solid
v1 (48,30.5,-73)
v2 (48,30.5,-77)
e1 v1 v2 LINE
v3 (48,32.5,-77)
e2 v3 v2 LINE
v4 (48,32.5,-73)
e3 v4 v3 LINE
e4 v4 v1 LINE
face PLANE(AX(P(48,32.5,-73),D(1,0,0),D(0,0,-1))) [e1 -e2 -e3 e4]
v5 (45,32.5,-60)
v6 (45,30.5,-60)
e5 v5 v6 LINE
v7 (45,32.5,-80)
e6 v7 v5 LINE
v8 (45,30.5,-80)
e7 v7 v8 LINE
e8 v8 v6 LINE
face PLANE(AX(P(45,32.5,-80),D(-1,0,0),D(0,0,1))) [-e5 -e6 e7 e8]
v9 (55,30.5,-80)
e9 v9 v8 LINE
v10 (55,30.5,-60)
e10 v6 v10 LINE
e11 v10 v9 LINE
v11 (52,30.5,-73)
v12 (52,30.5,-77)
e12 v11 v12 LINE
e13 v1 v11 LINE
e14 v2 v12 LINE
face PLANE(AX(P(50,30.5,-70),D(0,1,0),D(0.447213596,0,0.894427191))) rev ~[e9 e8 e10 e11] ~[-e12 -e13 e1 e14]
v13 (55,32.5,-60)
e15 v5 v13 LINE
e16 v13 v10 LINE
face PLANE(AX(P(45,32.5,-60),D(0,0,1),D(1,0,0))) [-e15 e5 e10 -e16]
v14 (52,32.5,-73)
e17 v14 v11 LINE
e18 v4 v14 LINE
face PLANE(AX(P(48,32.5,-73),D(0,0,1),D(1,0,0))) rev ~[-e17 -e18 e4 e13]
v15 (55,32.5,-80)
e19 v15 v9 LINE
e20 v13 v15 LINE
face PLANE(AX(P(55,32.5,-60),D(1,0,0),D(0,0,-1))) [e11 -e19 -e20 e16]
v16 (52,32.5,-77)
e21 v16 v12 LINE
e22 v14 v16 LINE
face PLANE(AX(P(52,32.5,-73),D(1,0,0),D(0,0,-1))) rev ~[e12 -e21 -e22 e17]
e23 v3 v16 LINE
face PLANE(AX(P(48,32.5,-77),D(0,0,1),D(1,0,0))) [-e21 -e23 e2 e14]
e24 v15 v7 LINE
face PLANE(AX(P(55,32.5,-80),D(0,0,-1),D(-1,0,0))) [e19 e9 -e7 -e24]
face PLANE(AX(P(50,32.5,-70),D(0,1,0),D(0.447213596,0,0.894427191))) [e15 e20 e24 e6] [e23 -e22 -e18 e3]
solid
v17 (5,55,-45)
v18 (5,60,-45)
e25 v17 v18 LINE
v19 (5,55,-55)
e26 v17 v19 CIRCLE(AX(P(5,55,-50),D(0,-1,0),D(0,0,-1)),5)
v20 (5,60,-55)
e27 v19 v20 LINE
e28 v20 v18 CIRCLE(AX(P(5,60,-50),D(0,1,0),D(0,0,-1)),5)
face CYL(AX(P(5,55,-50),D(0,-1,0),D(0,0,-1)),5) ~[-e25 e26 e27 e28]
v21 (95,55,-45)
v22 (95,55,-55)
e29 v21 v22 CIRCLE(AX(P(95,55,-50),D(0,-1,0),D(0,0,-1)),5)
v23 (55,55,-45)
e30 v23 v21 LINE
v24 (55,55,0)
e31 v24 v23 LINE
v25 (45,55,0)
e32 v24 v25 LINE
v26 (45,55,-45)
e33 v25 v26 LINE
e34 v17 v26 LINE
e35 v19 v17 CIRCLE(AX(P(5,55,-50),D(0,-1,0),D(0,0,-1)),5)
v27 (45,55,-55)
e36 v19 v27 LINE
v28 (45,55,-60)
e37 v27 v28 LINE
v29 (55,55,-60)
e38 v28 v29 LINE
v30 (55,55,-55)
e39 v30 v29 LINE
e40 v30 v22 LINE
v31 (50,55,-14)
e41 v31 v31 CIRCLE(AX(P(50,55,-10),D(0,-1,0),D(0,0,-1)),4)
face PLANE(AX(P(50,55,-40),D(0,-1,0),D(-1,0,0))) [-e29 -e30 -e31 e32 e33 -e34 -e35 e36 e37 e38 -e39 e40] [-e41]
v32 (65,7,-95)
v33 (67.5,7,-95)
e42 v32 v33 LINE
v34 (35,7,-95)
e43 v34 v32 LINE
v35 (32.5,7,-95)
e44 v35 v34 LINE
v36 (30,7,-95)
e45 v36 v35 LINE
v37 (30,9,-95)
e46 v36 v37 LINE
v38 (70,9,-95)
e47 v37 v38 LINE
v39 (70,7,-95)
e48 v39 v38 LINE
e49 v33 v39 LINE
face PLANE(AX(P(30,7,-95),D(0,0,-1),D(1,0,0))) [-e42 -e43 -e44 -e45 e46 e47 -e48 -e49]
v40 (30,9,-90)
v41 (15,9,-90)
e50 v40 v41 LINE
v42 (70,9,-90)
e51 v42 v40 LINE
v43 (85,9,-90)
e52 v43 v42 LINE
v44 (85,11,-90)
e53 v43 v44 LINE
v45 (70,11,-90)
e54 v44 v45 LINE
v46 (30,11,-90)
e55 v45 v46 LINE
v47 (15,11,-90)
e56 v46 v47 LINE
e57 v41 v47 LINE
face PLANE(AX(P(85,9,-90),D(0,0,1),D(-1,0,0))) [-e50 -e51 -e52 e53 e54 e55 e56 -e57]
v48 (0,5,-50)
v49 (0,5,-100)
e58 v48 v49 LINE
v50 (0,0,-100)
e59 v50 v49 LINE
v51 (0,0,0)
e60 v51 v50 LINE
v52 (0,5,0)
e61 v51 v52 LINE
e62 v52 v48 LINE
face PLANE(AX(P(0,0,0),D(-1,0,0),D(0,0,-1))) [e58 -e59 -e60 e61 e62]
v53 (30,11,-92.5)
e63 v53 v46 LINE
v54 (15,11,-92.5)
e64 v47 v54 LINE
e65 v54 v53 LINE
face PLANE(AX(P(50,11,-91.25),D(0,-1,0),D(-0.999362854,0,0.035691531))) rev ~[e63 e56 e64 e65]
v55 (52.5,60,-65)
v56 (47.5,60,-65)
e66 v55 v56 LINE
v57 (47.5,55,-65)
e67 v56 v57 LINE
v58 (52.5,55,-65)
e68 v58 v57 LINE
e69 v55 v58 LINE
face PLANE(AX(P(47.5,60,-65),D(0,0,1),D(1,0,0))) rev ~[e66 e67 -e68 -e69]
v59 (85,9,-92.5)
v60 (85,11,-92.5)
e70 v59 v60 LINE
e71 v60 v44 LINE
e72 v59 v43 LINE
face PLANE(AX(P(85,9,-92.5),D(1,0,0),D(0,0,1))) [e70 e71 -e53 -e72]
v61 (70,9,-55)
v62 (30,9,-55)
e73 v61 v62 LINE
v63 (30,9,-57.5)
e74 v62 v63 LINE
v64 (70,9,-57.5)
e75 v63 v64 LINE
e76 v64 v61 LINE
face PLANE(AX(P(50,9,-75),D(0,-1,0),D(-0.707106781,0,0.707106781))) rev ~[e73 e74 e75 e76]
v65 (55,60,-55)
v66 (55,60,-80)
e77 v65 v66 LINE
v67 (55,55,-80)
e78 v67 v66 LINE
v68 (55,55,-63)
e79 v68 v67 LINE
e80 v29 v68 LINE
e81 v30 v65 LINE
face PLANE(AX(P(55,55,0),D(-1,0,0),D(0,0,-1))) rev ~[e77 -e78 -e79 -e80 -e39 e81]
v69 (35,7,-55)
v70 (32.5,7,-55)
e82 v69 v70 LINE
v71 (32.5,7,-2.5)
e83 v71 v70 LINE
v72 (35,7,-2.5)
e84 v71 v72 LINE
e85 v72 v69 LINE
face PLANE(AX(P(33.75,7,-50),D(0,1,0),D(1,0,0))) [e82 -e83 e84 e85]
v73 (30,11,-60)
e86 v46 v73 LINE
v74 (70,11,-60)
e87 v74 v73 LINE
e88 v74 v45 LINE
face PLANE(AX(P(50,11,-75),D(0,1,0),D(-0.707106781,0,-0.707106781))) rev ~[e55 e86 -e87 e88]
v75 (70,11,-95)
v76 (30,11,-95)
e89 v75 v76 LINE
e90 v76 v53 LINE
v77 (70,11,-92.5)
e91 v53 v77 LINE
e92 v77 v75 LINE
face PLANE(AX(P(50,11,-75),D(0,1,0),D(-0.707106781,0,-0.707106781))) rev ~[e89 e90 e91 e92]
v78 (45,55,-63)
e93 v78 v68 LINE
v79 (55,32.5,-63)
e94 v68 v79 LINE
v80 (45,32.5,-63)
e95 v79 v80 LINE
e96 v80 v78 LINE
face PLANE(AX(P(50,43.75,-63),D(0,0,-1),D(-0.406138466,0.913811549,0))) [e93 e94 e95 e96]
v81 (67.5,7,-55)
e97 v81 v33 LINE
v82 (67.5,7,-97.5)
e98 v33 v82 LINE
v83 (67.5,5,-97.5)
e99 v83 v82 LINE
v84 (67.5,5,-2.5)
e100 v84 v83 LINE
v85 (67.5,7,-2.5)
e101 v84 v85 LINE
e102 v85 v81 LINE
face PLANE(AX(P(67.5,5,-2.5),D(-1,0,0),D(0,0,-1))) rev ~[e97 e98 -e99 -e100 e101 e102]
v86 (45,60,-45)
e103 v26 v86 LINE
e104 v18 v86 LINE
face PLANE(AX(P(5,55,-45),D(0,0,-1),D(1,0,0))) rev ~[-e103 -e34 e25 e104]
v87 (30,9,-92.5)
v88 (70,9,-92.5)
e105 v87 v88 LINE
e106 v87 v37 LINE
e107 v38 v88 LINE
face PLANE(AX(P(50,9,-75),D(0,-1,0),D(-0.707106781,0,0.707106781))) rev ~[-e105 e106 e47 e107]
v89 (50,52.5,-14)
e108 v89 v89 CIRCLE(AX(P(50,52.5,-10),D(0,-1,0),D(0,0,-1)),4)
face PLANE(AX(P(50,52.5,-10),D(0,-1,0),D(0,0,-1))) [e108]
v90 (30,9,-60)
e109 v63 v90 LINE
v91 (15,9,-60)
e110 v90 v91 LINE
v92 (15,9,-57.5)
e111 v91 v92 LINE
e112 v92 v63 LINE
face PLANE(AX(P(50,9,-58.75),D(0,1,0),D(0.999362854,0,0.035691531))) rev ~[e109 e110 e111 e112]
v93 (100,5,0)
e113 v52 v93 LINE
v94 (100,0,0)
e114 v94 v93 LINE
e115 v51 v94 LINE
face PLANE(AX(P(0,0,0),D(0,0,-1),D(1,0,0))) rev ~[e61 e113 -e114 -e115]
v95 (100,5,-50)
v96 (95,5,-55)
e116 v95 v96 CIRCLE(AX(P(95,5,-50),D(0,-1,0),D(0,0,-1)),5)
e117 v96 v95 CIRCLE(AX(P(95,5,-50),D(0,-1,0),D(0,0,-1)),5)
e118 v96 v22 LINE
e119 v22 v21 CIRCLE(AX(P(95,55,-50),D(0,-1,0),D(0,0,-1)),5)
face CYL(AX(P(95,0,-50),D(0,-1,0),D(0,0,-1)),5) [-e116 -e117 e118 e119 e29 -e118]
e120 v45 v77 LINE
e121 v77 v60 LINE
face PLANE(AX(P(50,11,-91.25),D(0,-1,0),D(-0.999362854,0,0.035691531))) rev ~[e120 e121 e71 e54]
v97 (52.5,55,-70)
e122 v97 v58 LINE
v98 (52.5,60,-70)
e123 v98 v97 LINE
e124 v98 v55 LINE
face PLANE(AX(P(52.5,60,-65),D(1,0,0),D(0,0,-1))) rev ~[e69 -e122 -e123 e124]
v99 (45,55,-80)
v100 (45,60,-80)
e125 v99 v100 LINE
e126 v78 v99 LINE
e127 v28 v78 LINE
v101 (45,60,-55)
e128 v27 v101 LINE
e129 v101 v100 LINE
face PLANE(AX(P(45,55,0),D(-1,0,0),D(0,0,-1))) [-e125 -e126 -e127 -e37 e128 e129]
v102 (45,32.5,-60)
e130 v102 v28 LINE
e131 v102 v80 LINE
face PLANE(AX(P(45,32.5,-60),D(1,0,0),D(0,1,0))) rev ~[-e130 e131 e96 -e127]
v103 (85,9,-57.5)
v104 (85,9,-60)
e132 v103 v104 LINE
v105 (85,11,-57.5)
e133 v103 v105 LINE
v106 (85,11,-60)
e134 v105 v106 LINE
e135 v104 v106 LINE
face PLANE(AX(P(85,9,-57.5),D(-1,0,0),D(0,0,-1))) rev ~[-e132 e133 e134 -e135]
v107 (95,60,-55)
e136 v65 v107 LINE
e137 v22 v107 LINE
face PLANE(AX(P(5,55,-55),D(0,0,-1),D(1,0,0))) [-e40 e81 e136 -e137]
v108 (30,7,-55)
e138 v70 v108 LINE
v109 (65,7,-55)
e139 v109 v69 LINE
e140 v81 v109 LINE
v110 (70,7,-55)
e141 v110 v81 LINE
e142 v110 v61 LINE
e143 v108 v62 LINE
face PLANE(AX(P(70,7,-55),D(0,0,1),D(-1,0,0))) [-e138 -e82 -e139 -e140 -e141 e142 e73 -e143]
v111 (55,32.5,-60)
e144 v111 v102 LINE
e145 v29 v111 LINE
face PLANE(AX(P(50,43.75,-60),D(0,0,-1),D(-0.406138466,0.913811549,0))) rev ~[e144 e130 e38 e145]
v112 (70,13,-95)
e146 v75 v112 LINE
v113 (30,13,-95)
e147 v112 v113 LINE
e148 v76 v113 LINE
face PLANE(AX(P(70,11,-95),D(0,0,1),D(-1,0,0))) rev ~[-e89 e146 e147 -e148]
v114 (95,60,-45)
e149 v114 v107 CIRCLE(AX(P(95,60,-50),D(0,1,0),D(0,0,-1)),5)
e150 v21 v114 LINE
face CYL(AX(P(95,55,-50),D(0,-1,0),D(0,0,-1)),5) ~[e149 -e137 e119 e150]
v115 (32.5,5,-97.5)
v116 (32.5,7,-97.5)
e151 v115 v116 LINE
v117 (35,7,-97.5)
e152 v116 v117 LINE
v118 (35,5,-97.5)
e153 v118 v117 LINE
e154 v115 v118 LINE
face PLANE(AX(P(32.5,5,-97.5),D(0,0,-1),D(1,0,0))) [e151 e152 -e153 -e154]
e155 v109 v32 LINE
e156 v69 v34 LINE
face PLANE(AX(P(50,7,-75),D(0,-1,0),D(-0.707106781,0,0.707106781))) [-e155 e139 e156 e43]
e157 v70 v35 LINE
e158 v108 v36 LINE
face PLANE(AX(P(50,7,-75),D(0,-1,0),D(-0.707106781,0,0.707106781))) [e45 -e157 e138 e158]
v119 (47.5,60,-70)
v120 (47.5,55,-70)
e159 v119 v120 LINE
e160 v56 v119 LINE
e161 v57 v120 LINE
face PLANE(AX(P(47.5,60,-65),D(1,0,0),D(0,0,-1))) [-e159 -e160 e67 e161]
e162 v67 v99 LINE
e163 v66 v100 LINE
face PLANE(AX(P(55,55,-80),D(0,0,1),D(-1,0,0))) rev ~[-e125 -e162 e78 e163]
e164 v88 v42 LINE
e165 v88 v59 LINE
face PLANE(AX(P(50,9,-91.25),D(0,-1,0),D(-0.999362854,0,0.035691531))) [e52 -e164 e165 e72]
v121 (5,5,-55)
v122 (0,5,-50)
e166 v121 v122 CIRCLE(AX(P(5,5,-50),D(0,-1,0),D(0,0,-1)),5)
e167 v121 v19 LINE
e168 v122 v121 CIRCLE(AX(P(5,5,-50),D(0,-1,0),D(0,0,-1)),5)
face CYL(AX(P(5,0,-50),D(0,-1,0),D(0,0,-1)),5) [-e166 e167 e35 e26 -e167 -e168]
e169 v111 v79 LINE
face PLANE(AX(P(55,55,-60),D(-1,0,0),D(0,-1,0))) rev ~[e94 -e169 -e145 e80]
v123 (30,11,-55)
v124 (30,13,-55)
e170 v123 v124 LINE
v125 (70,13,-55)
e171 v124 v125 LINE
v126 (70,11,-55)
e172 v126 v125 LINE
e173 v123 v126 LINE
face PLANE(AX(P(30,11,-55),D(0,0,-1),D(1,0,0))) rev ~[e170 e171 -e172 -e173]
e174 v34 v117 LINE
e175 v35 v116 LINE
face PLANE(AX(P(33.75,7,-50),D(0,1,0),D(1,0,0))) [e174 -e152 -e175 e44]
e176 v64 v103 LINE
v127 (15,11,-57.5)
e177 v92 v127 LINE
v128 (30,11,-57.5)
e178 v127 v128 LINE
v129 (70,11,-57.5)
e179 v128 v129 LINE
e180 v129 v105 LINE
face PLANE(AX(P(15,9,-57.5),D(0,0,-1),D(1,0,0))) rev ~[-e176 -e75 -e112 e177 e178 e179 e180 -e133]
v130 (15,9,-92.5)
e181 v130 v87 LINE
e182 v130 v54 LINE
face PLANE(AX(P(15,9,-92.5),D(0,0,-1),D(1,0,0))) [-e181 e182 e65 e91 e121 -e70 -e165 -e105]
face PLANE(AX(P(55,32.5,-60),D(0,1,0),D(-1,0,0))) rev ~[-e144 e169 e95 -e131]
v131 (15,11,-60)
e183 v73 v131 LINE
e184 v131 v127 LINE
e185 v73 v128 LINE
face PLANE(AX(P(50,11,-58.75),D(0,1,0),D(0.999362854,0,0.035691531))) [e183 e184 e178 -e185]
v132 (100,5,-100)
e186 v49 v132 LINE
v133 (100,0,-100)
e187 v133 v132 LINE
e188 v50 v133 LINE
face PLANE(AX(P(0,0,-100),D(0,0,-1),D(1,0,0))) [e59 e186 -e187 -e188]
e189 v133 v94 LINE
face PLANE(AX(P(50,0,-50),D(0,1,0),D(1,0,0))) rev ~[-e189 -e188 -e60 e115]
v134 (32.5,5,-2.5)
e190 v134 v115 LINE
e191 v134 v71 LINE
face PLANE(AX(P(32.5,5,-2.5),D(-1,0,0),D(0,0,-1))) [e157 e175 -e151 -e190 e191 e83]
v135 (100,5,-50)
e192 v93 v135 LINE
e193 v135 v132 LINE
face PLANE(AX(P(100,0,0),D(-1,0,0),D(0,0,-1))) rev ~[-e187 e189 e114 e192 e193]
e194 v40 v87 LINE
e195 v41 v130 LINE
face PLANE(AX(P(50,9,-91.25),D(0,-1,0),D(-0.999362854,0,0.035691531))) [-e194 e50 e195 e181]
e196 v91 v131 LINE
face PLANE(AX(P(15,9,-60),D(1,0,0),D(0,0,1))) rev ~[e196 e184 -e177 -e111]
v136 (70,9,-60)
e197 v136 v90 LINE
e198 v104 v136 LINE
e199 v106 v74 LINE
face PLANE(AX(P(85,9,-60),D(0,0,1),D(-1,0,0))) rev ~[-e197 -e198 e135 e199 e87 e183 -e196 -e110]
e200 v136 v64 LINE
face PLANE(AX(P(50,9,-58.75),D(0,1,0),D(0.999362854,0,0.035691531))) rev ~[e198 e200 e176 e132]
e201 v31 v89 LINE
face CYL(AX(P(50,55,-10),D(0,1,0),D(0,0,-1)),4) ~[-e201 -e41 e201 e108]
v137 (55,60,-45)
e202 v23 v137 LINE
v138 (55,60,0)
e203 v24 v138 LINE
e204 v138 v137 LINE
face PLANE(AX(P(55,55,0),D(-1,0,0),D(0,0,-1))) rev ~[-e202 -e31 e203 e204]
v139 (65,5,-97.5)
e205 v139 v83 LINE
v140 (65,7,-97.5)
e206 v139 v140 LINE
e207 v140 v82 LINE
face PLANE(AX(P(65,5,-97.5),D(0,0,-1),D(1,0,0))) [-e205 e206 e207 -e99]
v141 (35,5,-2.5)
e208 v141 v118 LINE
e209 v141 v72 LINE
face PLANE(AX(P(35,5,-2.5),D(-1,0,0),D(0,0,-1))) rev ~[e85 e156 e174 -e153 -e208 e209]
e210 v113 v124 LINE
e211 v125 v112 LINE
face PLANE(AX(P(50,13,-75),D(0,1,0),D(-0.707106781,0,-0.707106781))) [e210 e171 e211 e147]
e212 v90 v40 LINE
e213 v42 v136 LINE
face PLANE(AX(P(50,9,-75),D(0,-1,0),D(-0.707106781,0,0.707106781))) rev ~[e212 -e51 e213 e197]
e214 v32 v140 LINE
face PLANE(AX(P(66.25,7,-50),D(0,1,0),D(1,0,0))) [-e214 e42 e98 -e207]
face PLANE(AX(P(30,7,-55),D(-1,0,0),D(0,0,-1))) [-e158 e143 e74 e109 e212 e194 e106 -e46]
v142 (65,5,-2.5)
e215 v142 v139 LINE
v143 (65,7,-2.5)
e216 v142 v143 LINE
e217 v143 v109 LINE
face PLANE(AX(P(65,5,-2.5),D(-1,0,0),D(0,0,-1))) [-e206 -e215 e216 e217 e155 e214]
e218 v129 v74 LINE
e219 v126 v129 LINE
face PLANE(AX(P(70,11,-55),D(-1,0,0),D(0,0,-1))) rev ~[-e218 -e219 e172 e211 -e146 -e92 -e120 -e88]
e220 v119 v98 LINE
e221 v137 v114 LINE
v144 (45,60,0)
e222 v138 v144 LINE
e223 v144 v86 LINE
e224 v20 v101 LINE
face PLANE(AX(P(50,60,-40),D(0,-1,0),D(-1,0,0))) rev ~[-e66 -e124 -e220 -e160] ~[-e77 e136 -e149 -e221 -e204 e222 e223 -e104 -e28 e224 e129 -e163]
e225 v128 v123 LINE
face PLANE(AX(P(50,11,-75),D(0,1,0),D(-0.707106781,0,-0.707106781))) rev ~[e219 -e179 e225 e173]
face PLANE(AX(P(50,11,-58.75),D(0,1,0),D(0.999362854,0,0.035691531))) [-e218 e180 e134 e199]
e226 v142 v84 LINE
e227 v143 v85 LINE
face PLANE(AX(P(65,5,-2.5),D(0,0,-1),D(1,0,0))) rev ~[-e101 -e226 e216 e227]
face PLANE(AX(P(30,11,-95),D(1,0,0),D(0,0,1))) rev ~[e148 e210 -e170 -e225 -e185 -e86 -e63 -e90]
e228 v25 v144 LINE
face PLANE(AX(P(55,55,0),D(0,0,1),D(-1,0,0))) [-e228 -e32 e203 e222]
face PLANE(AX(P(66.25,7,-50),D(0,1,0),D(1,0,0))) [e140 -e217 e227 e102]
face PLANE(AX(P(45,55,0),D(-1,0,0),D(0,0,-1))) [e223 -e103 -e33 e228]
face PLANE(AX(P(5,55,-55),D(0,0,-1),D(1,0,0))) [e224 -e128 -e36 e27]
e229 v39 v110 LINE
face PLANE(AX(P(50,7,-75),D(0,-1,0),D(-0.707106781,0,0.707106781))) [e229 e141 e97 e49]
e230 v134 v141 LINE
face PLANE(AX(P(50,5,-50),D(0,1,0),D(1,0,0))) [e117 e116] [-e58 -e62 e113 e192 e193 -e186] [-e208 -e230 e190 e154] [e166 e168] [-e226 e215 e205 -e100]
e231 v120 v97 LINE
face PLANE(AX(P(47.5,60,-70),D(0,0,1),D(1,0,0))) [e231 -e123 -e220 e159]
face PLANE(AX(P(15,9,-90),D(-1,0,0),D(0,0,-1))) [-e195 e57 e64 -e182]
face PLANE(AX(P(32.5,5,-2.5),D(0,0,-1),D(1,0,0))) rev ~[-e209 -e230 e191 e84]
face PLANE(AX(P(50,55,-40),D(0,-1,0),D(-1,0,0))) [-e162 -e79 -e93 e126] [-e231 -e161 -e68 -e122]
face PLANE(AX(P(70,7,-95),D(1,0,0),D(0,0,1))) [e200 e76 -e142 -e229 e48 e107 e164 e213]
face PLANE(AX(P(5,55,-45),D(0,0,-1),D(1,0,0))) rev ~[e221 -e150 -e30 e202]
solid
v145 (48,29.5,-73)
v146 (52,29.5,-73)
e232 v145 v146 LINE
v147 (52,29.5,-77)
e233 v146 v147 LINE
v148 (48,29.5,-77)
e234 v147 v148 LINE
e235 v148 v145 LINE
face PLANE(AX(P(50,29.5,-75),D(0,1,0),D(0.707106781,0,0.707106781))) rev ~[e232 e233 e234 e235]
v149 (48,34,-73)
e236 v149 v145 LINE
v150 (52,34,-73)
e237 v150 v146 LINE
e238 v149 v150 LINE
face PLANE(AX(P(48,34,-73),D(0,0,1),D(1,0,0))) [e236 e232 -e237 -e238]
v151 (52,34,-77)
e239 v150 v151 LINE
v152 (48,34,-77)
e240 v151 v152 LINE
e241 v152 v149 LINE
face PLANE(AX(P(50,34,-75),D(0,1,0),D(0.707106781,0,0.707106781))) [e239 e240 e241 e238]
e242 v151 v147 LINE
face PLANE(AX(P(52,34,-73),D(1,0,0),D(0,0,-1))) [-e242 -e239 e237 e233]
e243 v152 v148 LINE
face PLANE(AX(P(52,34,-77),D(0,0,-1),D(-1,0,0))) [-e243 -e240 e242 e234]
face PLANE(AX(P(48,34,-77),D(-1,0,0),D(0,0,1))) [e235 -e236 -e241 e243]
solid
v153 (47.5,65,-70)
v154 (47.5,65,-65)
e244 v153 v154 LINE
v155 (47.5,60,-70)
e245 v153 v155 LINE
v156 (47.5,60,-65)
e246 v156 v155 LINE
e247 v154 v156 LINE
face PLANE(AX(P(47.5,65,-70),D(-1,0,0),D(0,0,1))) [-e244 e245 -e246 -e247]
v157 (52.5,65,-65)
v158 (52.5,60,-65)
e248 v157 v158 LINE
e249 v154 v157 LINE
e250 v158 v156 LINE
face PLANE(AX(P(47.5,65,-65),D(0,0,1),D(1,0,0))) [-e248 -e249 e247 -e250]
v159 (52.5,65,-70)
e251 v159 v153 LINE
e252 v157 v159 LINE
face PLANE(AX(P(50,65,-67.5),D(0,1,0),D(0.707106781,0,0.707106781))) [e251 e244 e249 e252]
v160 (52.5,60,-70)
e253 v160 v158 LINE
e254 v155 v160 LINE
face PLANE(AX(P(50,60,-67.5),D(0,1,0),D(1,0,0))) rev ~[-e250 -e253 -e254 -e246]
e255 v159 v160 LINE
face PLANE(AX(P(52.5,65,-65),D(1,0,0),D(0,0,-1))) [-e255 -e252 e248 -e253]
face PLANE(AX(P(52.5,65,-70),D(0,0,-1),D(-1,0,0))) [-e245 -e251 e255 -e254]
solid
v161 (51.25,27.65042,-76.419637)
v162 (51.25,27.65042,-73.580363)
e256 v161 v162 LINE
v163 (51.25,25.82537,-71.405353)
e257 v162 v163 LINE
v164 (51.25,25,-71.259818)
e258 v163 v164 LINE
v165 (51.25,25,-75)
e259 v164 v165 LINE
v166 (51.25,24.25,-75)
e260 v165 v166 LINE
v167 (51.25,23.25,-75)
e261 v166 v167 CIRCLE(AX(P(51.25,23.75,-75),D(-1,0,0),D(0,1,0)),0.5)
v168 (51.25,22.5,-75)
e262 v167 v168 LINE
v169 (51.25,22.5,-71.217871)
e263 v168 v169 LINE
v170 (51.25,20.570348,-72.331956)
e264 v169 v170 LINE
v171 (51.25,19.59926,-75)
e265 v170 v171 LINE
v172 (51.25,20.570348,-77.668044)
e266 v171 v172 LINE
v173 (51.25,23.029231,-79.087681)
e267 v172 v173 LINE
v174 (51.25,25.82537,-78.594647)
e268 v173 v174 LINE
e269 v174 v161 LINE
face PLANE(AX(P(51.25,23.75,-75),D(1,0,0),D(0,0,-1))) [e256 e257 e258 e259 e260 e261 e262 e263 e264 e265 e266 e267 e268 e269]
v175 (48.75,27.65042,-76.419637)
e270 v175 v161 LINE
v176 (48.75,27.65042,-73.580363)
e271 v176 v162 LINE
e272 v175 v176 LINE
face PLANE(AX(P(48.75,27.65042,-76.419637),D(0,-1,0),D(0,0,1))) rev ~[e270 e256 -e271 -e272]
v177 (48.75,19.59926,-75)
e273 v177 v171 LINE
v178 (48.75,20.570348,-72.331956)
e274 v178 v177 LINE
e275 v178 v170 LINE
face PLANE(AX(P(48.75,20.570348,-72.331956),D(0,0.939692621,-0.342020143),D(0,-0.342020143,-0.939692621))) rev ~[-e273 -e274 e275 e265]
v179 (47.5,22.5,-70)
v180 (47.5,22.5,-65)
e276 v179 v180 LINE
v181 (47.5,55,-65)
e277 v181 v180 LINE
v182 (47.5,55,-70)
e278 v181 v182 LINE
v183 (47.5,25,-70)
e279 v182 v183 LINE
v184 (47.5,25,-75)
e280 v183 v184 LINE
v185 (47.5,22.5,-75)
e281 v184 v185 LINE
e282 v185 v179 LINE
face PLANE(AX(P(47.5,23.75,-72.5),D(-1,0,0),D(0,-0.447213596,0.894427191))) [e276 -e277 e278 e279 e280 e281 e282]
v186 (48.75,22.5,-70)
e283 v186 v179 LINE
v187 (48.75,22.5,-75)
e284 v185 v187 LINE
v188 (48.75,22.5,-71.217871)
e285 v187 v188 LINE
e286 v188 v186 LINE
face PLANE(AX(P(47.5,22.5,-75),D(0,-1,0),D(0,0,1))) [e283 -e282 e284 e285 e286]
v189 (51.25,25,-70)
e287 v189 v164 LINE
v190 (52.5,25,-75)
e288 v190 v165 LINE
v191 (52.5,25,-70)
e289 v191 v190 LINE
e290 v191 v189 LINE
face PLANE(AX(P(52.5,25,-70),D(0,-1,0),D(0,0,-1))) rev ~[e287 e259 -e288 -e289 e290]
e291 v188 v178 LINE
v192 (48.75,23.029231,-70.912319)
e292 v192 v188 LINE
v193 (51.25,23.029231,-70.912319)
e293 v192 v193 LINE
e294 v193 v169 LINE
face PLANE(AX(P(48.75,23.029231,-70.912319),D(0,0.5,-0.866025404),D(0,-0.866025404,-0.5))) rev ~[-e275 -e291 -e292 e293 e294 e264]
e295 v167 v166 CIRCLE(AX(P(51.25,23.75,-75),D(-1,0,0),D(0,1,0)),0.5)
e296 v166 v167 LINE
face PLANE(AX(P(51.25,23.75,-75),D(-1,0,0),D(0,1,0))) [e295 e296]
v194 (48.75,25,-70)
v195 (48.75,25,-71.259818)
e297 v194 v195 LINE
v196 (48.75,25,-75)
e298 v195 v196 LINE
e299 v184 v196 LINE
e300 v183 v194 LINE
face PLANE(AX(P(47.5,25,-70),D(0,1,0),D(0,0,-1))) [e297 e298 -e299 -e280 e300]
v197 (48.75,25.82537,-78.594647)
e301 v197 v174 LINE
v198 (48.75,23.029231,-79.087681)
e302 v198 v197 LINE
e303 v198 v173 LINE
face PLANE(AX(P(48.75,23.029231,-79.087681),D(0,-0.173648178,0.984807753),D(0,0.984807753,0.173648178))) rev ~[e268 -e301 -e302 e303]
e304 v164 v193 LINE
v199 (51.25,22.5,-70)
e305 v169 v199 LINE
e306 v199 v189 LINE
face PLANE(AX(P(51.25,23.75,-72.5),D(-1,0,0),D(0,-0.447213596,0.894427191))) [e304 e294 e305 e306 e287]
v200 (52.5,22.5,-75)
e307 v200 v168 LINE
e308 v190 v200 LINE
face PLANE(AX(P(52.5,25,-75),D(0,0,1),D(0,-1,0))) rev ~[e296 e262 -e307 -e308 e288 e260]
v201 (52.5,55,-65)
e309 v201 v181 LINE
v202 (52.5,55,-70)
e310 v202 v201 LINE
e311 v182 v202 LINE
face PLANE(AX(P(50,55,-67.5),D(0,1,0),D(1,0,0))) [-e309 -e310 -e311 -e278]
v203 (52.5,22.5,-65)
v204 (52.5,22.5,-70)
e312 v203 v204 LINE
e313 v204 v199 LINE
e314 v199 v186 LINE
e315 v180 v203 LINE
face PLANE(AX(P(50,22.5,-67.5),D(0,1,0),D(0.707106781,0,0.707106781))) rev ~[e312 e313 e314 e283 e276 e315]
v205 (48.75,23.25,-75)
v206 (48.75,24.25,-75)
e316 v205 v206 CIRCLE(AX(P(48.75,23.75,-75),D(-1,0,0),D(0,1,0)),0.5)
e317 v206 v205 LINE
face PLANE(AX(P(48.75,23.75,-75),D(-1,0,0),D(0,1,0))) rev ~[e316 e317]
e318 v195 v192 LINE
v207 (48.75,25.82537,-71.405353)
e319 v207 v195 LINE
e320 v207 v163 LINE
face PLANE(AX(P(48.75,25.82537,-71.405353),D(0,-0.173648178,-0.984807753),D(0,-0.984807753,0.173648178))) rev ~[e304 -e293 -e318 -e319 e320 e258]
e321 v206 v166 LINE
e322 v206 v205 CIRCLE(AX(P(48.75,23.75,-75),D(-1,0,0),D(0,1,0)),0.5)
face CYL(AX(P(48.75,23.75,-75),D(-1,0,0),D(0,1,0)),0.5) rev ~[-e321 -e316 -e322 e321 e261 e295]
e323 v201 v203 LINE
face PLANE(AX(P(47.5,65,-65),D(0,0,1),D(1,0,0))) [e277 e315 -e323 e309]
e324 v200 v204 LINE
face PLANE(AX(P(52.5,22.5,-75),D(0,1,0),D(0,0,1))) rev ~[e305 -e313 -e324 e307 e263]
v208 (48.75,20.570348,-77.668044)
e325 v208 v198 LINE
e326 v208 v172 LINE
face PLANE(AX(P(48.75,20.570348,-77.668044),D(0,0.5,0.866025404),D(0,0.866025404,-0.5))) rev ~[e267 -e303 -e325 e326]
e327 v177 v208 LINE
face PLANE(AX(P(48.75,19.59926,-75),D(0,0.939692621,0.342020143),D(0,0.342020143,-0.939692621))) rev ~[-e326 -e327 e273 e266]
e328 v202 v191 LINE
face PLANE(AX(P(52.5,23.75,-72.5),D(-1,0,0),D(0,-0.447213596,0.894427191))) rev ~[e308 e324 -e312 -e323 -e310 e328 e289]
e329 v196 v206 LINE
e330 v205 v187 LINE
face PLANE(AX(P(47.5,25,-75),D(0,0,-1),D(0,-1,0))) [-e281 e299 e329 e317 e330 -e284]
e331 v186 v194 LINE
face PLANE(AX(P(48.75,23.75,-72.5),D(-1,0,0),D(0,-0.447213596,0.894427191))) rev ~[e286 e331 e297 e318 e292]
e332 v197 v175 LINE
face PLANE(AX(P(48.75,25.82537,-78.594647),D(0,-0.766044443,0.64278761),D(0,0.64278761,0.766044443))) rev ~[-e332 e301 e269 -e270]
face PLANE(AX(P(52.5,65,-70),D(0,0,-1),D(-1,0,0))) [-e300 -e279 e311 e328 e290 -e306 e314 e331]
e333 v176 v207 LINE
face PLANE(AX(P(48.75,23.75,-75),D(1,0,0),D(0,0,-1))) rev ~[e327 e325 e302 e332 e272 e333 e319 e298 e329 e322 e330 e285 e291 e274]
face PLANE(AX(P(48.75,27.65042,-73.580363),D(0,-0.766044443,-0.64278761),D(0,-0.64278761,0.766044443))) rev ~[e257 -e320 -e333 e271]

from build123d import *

# Parameters (mm, degrees)
SKETCH3_W            = 100
SKETCH3_H            = 100
BOSS_EXTRUDE1_DEPTH  = 5
SKETCH6_R            = 5
BOSS_EXTRUDE3_DEPTH  = 55
SKETCH9_R            = 5
BOSS_EXTRUDE4_DEPTH  = 55
SKETCH20_W           = 90
SKETCH20_H           = 10
BOSS_EXTRUDE6_DEPTH  = 5
SKETCH21_R           = 5
BOSS_EXTRUDE7_DEPTH  = 5
SKETCH22_R           = 5
BOSS_EXTRUDE8_DEPTH  = 5
SKETCH24_W           = 10
SKETCH24_H           = 80
BOSS_EXTRUDE9_DEPTH  = 5
SKETCH27_R           = 4
BOSS_EXTRUDE11_DEPTH = 2.5
BOSS_EXTRUDE16_DEPTH = 2
SKETCH31_W           = 2.5
SKETCH31_H           = 95
BOSS_EXTRUDE17_DEPTH = 2
SKETCH32_W           = 2.5
SKETCH32_H           = 95
BOSS_EXTRUDE18_DEPTH = 2
BOSS_EXTRUDE19_DEPTH = 2
BOSS_EXTRUDE20_DEPTH = 2
BOSS_EXTRUDE21_DEPTH = 2
BOSS_EXTRUDE23_DEPTH = 42.5
SKETCH33_W           = 5
SKETCH33_H           = 5
CUT_EXTRUDE2_DEPTH   = 5
BOSS_EXTRUDE24_DEPTH = 3
BOSS_EXTRUDE25_DEPTH = 1.25
BOSS_EXTRUDE26_DEPTH = 1.25
BOSS_EXTRUDE28_DEPTH = 2.5
SKETCH37_R           = 0.5
CUT_EXTRUDE3_DEPTH   = 2.5
BOSS_EXTRUDE31_DEPTH = 2
SKETCH38_W           = 4
SKETCH38_H           = 4
CUT_EXTRUDE4_DEPTH   = 2
BOSS_EXTRUDE32_DEPTH = 4.5


with BuildPart() as part:
    # Sketch3 → Boss-Extrude1 (new body)
    with BuildSketch(Plane(origin=(0, 0, 0), x_dir=(1, 0, 0), z_dir=(0, 1, 0))):
        with Locations((50, 50)):
            Rectangle(SKETCH3_W, SKETCH3_H)
    extrude(amount=BOSS_EXTRUDE1_DEPTH)

    # Sketch6 → Boss-Extrude3 (add)
    with BuildSketch(Plane(origin=(0, 0, 0), x_dir=(-1, 0, 0), z_dir=(0, -1, 0))):
        with Locations(Location((-5, 50, 0), (0, 0, 90))):
            Circle(SKETCH6_R)
    extrude(amount=-BOSS_EXTRUDE3_DEPTH)

    # Sketch9 → Boss-Extrude4 (add)
    with BuildSketch(Plane(origin=(0, 0, 0), x_dir=(-1, 0, 0), z_dir=(0, -1, 0))):
        with Locations(Location((-95, 50, 0), (0, 0, 90))):
            Circle(SKETCH9_R)
    extrude(amount=-BOSS_EXTRUDE4_DEPTH)

    # Sketch20 → Boss-Extrude6 (add)
    with BuildSketch(Plane(origin=(0, 55, 0), x_dir=(1, 0, 0), z_dir=(0, 1, 0))):
        with Locations((50, 50)):
            Rectangle(SKETCH20_W, SKETCH20_H)
    extrude(amount=BOSS_EXTRUDE6_DEPTH)

    # Sketch21 → Boss-Extrude7 (add)
    with BuildSketch(Plane(origin=(0, 55, 0), x_dir=(1, 0, 0), z_dir=(0, 1, 0))):
        with Locations(Location((5, 50, 0), (0, 0, 90))):
            Circle(SKETCH21_R)
    extrude(amount=BOSS_EXTRUDE7_DEPTH)

    # Sketch22 → Boss-Extrude8 (add)
    with BuildSketch(Plane(origin=(0, 55, 0), x_dir=(1, 0, 0), z_dir=(0, 1, 0))):
        with Locations(Location((95, 50, 0), (0, 0, 90))):
            Circle(SKETCH22_R)
    extrude(amount=BOSS_EXTRUDE8_DEPTH)

    # Sketch24 → Boss-Extrude9 (add)
    with BuildSketch(Plane(origin=(0, 55, 0), x_dir=(-1, 0, 0), z_dir=(0, -1, 0))):
        with Locations((-50, 40)):
            Rectangle(SKETCH24_W, SKETCH24_H)
    extrude(amount=-BOSS_EXTRUDE9_DEPTH)

    # Sketch27 → Boss-Extrude11 (add)
    with BuildSketch(Plane(origin=(0, 55, 0), x_dir=(-1, 0, 0), z_dir=(0, -1, 0))):
        with Locations(Location((-50, 10, 0), (0, 0, 90))):
            Circle(SKETCH27_R)
    extrude(amount=BOSS_EXTRUDE11_DEPTH)



with BuildPart() as body_2:
    # 3DSketch5 → Boss-Extrude16 (new body)
    with BuildSketch(Plane(origin=(30, 7, -55), x_dir=(0.7071067811865476, 0, -0.7071067811865475), z_dir=(0, 1, 0))):
        Polygon((0, 0), (28.284271247, 28.284271247), (56.568542495, 0), (28.284271247, -28.284271247), align=None)
    extrude(amount=BOSS_EXTRUDE16_DEPTH)


with BuildPart() as part_1:
    add(part.part)

    add(body_2.part)  # Boss-Extrude17 merges body 2
    # Sketch31 → Boss-Extrude17 (add)
    with BuildSketch(Plane(origin=(0, 5, 0), x_dir=(1, 0, 0), z_dir=(0, 1, 0))):
        with Locations((33.75, 50)):
            Rectangle(SKETCH31_W, SKETCH31_H)
    extrude(amount=BOSS_EXTRUDE17_DEPTH)

    # Sketch32 → Boss-Extrude18 (add)
    with BuildSketch(Plane(origin=(0, 5, 0), x_dir=(1, 0, 0), z_dir=(0, 1, 0))):
        with Locations((66.25, 50)):
            Rectangle(SKETCH32_W, SKETCH32_H)
    extrude(amount=BOSS_EXTRUDE18_DEPTH)

    # 3DSketch6 → Boss-Extrude19 (add)
    with BuildSketch(Plane(origin=(15, 9, -90), x_dir=(0.9993628543475496, 0, -0.035691530512412514), z_dir=(0, 1, 0))):
        Polygon((0, 0), (0.089228826, 2.498407136), (70.044628631, 0), (69.955399804, -2.498407136), align=None)
    extrude(amount=BOSS_EXTRUDE19_DEPTH)

    # 3DSketch7 → Boss-Extrude20 (add)
    with BuildSketch(Plane(origin=(15, 9, -60), x_dir=(0.9993628543475496, 0, 0.035691530512412514), z_dir=(0, 1, 0))):
        Polygon((0, 0), (0.089228826, -2.498407136), (70.044628631, 0), (69.955399804, 2.498407136), align=None)
    extrude(amount=BOSS_EXTRUDE20_DEPTH)

    # 3DSketch10 → Boss-Extrude21 (add)
    with BuildSketch(Plane(origin=(30, 11, -95), x_dir=(0.7071067811865476, 0, 0.7071067811865475), z_dir=(0, -1, 0))):
        Polygon((0, 0), (28.284271247, 28.284271247), (56.568542495, 0), (28.284271247, -28.284271247), align=None)
    extrude(amount=-BOSS_EXTRUDE21_DEPTH)

    # 3DSketch15 → Boss-Extrude23 (add)
    with BuildSketch(Plane(origin=(52.5, 65, -65), x_dir=(-0.707106781186547, 0, -0.707106781186548), z_dir=(0, -1, 0))):
        Polygon((0, 0), (3.535533906, 3.535533906), (7.071067812, 0), (3.535533906, -3.535533906), align=None)
    extrude(amount=BOSS_EXTRUDE23_DEPTH)

    # Sketch33 → Cut-Extrude2 (cut)
    with BuildSketch(Plane(origin=(0, 60, 0), x_dir=(1, 0, 0), z_dir=(0, 1, 0))):
        with Locations((50, 67.5)):
            Rectangle(SKETCH33_W, SKETCH33_H)
    extrude(amount=-CUT_EXTRUDE2_DEPTH, mode=Mode.SUBTRACT)


with BuildPart() as cut_extrude2_piece_1:
    # of the separate pieces the step leaves, piece 1, a body of its own (cut_extrude2_pieces)
    add(part_1.part.solids().sort_by_distance((0, 0, 0))[0])

    # 3DSketch16 → Boss-Extrude24 (add)
    with BuildSketch(Plane(origin=(45, 55, -60), x_dir=(0.4061384660534477, -0.9138115486202572, 0), z_dir=(0, 0, 1))):
        Polygon((0, 0), (4.061384661, 9.138115486), (24.622144504, 0), (20.560759844, -9.138115486), align=None)
    extrude(amount=-BOSS_EXTRUDE24_DEPTH)


with BuildPart() as cut_extrude2_piece_2:
    # of the separate pieces the step leaves, piece 2, a body of its own (cut_extrude2_pieces)
    add(part_1.part.solids().sort_by_distance((52.5, 22.5, -70))[0])

    # 3DSketch17 → Boss-Extrude25 (add)
    with BuildSketch(Plane(origin=(52.5, 22.5, -70), x_dir=(0, 0.4472135954999585, -0.8944271909999156), z_dir=(1, 0, 0))):
        Polygon((0, 0), (1.118033989, 2.236067977), (5.590169944, 0), (4.472135955, -2.236067977), align=None)
    extrude(amount=-BOSS_EXTRUDE25_DEPTH)



with BuildPart() as cut_extrude2_piece_3:
    # of the separate pieces the step leaves, piece 3, a body of its own (cut_extrude2_pieces)
    add(part_1.part.solids().sort_by_distance((52.5, 65, -65))[0])


with BuildPart() as body_4:
    # 3DSketch18 → Boss-Extrude26 (new body)
    with BuildSketch(Plane(origin=(47.5, 22.5, -70), x_dir=(0, 0.4472135954999585, -0.8944271909999156), z_dir=(1, 0, 0))):
        Polygon((0, 0), (1.118033989, 2.236067977), (5.590169944, 0), (4.472135955, -2.236067977), align=None)
    extrude(amount=BOSS_EXTRUDE26_DEPTH)


with BuildPart() as cut_extrude2_piece_2_1:
    add(cut_extrude2_piece_2.part)

    add(body_4.part)  # Boss-Extrude28 merges body 4
    # Sketch36 → Boss-Extrude28 (add)
    with BuildSketch(Plane(origin=(48.75, 0, 0), x_dir=(0, 0, -1), z_dir=(1, 0, 0))):
        Polygon((76.419636818, 27.6504201), (73.580363182, 27.6504201), (71.405353392, 25.825370187), (70.912318699, 23.029231498), (72.331955517, 20.570348402), (75, 19.599259626), (77.668044483, 20.570348402), (79.087681301, 23.029231498), (78.594646608, 25.825370187), align=None)
    extrude(amount=BOSS_EXTRUDE28_DEPTH)

    # Sketch37 → Cut-Extrude3 (cut)
    with BuildSketch(Plane.ZY.offset(-48.75)):
        with Locations(Location((-75, 23.75, 0), (0, 0, 90))):
            Circle(SKETCH37_R)
    extrude(amount=-CUT_EXTRUDE3_DEPTH, mode=Mode.SUBTRACT)


with BuildPart() as body_4_2:
    # 3DSketch28 → Boss-Extrude31 (new body)
    with BuildSketch(Plane(origin=(55, 32.5, -60), x_dir=(-0.447213595499958, 0, -0.894427190999916), z_dir=(0, -1, 0))):
        Polygon((0, 0), (17.88854382, 8.94427191), (22.360679775, 0), (4.472135955, -8.94427191), align=None)
    extrude(amount=BOSS_EXTRUDE31_DEPTH)

    # Sketch38 → Cut-Extrude4 (cut)
    with BuildSketch(Plane(origin=(0, 32.5, 0), x_dir=(1, 0, 0), z_dir=(0, 1, 0))):
        with Locations((50, 75)):
            Rectangle(SKETCH38_W, SKETCH38_H)
    extrude(amount=-CUT_EXTRUDE4_DEPTH, mode=Mode.SUBTRACT)


with BuildPart() as body_5:
    # 3DSketch30 → Boss-Extrude32 (new body)
    with BuildSketch(Plane(origin=(52, 34, -73), x_dir=(-0.7071067811865469, 0, -0.7071067811865481), z_dir=(0, -1, 0))):
        Polygon((0, 0), (2.828427125, 2.828427125), (5.656854249, 0), (2.828427125, -2.828427125), align=None)
    extrude(amount=BOSS_EXTRUDE32_DEPTH)


solid = Compound([cut_extrude2_piece_1.part, cut_extrude2_piece_3.part, cut_extrude2_piece_2_1.part, body_4_2.part, body_5.part])
